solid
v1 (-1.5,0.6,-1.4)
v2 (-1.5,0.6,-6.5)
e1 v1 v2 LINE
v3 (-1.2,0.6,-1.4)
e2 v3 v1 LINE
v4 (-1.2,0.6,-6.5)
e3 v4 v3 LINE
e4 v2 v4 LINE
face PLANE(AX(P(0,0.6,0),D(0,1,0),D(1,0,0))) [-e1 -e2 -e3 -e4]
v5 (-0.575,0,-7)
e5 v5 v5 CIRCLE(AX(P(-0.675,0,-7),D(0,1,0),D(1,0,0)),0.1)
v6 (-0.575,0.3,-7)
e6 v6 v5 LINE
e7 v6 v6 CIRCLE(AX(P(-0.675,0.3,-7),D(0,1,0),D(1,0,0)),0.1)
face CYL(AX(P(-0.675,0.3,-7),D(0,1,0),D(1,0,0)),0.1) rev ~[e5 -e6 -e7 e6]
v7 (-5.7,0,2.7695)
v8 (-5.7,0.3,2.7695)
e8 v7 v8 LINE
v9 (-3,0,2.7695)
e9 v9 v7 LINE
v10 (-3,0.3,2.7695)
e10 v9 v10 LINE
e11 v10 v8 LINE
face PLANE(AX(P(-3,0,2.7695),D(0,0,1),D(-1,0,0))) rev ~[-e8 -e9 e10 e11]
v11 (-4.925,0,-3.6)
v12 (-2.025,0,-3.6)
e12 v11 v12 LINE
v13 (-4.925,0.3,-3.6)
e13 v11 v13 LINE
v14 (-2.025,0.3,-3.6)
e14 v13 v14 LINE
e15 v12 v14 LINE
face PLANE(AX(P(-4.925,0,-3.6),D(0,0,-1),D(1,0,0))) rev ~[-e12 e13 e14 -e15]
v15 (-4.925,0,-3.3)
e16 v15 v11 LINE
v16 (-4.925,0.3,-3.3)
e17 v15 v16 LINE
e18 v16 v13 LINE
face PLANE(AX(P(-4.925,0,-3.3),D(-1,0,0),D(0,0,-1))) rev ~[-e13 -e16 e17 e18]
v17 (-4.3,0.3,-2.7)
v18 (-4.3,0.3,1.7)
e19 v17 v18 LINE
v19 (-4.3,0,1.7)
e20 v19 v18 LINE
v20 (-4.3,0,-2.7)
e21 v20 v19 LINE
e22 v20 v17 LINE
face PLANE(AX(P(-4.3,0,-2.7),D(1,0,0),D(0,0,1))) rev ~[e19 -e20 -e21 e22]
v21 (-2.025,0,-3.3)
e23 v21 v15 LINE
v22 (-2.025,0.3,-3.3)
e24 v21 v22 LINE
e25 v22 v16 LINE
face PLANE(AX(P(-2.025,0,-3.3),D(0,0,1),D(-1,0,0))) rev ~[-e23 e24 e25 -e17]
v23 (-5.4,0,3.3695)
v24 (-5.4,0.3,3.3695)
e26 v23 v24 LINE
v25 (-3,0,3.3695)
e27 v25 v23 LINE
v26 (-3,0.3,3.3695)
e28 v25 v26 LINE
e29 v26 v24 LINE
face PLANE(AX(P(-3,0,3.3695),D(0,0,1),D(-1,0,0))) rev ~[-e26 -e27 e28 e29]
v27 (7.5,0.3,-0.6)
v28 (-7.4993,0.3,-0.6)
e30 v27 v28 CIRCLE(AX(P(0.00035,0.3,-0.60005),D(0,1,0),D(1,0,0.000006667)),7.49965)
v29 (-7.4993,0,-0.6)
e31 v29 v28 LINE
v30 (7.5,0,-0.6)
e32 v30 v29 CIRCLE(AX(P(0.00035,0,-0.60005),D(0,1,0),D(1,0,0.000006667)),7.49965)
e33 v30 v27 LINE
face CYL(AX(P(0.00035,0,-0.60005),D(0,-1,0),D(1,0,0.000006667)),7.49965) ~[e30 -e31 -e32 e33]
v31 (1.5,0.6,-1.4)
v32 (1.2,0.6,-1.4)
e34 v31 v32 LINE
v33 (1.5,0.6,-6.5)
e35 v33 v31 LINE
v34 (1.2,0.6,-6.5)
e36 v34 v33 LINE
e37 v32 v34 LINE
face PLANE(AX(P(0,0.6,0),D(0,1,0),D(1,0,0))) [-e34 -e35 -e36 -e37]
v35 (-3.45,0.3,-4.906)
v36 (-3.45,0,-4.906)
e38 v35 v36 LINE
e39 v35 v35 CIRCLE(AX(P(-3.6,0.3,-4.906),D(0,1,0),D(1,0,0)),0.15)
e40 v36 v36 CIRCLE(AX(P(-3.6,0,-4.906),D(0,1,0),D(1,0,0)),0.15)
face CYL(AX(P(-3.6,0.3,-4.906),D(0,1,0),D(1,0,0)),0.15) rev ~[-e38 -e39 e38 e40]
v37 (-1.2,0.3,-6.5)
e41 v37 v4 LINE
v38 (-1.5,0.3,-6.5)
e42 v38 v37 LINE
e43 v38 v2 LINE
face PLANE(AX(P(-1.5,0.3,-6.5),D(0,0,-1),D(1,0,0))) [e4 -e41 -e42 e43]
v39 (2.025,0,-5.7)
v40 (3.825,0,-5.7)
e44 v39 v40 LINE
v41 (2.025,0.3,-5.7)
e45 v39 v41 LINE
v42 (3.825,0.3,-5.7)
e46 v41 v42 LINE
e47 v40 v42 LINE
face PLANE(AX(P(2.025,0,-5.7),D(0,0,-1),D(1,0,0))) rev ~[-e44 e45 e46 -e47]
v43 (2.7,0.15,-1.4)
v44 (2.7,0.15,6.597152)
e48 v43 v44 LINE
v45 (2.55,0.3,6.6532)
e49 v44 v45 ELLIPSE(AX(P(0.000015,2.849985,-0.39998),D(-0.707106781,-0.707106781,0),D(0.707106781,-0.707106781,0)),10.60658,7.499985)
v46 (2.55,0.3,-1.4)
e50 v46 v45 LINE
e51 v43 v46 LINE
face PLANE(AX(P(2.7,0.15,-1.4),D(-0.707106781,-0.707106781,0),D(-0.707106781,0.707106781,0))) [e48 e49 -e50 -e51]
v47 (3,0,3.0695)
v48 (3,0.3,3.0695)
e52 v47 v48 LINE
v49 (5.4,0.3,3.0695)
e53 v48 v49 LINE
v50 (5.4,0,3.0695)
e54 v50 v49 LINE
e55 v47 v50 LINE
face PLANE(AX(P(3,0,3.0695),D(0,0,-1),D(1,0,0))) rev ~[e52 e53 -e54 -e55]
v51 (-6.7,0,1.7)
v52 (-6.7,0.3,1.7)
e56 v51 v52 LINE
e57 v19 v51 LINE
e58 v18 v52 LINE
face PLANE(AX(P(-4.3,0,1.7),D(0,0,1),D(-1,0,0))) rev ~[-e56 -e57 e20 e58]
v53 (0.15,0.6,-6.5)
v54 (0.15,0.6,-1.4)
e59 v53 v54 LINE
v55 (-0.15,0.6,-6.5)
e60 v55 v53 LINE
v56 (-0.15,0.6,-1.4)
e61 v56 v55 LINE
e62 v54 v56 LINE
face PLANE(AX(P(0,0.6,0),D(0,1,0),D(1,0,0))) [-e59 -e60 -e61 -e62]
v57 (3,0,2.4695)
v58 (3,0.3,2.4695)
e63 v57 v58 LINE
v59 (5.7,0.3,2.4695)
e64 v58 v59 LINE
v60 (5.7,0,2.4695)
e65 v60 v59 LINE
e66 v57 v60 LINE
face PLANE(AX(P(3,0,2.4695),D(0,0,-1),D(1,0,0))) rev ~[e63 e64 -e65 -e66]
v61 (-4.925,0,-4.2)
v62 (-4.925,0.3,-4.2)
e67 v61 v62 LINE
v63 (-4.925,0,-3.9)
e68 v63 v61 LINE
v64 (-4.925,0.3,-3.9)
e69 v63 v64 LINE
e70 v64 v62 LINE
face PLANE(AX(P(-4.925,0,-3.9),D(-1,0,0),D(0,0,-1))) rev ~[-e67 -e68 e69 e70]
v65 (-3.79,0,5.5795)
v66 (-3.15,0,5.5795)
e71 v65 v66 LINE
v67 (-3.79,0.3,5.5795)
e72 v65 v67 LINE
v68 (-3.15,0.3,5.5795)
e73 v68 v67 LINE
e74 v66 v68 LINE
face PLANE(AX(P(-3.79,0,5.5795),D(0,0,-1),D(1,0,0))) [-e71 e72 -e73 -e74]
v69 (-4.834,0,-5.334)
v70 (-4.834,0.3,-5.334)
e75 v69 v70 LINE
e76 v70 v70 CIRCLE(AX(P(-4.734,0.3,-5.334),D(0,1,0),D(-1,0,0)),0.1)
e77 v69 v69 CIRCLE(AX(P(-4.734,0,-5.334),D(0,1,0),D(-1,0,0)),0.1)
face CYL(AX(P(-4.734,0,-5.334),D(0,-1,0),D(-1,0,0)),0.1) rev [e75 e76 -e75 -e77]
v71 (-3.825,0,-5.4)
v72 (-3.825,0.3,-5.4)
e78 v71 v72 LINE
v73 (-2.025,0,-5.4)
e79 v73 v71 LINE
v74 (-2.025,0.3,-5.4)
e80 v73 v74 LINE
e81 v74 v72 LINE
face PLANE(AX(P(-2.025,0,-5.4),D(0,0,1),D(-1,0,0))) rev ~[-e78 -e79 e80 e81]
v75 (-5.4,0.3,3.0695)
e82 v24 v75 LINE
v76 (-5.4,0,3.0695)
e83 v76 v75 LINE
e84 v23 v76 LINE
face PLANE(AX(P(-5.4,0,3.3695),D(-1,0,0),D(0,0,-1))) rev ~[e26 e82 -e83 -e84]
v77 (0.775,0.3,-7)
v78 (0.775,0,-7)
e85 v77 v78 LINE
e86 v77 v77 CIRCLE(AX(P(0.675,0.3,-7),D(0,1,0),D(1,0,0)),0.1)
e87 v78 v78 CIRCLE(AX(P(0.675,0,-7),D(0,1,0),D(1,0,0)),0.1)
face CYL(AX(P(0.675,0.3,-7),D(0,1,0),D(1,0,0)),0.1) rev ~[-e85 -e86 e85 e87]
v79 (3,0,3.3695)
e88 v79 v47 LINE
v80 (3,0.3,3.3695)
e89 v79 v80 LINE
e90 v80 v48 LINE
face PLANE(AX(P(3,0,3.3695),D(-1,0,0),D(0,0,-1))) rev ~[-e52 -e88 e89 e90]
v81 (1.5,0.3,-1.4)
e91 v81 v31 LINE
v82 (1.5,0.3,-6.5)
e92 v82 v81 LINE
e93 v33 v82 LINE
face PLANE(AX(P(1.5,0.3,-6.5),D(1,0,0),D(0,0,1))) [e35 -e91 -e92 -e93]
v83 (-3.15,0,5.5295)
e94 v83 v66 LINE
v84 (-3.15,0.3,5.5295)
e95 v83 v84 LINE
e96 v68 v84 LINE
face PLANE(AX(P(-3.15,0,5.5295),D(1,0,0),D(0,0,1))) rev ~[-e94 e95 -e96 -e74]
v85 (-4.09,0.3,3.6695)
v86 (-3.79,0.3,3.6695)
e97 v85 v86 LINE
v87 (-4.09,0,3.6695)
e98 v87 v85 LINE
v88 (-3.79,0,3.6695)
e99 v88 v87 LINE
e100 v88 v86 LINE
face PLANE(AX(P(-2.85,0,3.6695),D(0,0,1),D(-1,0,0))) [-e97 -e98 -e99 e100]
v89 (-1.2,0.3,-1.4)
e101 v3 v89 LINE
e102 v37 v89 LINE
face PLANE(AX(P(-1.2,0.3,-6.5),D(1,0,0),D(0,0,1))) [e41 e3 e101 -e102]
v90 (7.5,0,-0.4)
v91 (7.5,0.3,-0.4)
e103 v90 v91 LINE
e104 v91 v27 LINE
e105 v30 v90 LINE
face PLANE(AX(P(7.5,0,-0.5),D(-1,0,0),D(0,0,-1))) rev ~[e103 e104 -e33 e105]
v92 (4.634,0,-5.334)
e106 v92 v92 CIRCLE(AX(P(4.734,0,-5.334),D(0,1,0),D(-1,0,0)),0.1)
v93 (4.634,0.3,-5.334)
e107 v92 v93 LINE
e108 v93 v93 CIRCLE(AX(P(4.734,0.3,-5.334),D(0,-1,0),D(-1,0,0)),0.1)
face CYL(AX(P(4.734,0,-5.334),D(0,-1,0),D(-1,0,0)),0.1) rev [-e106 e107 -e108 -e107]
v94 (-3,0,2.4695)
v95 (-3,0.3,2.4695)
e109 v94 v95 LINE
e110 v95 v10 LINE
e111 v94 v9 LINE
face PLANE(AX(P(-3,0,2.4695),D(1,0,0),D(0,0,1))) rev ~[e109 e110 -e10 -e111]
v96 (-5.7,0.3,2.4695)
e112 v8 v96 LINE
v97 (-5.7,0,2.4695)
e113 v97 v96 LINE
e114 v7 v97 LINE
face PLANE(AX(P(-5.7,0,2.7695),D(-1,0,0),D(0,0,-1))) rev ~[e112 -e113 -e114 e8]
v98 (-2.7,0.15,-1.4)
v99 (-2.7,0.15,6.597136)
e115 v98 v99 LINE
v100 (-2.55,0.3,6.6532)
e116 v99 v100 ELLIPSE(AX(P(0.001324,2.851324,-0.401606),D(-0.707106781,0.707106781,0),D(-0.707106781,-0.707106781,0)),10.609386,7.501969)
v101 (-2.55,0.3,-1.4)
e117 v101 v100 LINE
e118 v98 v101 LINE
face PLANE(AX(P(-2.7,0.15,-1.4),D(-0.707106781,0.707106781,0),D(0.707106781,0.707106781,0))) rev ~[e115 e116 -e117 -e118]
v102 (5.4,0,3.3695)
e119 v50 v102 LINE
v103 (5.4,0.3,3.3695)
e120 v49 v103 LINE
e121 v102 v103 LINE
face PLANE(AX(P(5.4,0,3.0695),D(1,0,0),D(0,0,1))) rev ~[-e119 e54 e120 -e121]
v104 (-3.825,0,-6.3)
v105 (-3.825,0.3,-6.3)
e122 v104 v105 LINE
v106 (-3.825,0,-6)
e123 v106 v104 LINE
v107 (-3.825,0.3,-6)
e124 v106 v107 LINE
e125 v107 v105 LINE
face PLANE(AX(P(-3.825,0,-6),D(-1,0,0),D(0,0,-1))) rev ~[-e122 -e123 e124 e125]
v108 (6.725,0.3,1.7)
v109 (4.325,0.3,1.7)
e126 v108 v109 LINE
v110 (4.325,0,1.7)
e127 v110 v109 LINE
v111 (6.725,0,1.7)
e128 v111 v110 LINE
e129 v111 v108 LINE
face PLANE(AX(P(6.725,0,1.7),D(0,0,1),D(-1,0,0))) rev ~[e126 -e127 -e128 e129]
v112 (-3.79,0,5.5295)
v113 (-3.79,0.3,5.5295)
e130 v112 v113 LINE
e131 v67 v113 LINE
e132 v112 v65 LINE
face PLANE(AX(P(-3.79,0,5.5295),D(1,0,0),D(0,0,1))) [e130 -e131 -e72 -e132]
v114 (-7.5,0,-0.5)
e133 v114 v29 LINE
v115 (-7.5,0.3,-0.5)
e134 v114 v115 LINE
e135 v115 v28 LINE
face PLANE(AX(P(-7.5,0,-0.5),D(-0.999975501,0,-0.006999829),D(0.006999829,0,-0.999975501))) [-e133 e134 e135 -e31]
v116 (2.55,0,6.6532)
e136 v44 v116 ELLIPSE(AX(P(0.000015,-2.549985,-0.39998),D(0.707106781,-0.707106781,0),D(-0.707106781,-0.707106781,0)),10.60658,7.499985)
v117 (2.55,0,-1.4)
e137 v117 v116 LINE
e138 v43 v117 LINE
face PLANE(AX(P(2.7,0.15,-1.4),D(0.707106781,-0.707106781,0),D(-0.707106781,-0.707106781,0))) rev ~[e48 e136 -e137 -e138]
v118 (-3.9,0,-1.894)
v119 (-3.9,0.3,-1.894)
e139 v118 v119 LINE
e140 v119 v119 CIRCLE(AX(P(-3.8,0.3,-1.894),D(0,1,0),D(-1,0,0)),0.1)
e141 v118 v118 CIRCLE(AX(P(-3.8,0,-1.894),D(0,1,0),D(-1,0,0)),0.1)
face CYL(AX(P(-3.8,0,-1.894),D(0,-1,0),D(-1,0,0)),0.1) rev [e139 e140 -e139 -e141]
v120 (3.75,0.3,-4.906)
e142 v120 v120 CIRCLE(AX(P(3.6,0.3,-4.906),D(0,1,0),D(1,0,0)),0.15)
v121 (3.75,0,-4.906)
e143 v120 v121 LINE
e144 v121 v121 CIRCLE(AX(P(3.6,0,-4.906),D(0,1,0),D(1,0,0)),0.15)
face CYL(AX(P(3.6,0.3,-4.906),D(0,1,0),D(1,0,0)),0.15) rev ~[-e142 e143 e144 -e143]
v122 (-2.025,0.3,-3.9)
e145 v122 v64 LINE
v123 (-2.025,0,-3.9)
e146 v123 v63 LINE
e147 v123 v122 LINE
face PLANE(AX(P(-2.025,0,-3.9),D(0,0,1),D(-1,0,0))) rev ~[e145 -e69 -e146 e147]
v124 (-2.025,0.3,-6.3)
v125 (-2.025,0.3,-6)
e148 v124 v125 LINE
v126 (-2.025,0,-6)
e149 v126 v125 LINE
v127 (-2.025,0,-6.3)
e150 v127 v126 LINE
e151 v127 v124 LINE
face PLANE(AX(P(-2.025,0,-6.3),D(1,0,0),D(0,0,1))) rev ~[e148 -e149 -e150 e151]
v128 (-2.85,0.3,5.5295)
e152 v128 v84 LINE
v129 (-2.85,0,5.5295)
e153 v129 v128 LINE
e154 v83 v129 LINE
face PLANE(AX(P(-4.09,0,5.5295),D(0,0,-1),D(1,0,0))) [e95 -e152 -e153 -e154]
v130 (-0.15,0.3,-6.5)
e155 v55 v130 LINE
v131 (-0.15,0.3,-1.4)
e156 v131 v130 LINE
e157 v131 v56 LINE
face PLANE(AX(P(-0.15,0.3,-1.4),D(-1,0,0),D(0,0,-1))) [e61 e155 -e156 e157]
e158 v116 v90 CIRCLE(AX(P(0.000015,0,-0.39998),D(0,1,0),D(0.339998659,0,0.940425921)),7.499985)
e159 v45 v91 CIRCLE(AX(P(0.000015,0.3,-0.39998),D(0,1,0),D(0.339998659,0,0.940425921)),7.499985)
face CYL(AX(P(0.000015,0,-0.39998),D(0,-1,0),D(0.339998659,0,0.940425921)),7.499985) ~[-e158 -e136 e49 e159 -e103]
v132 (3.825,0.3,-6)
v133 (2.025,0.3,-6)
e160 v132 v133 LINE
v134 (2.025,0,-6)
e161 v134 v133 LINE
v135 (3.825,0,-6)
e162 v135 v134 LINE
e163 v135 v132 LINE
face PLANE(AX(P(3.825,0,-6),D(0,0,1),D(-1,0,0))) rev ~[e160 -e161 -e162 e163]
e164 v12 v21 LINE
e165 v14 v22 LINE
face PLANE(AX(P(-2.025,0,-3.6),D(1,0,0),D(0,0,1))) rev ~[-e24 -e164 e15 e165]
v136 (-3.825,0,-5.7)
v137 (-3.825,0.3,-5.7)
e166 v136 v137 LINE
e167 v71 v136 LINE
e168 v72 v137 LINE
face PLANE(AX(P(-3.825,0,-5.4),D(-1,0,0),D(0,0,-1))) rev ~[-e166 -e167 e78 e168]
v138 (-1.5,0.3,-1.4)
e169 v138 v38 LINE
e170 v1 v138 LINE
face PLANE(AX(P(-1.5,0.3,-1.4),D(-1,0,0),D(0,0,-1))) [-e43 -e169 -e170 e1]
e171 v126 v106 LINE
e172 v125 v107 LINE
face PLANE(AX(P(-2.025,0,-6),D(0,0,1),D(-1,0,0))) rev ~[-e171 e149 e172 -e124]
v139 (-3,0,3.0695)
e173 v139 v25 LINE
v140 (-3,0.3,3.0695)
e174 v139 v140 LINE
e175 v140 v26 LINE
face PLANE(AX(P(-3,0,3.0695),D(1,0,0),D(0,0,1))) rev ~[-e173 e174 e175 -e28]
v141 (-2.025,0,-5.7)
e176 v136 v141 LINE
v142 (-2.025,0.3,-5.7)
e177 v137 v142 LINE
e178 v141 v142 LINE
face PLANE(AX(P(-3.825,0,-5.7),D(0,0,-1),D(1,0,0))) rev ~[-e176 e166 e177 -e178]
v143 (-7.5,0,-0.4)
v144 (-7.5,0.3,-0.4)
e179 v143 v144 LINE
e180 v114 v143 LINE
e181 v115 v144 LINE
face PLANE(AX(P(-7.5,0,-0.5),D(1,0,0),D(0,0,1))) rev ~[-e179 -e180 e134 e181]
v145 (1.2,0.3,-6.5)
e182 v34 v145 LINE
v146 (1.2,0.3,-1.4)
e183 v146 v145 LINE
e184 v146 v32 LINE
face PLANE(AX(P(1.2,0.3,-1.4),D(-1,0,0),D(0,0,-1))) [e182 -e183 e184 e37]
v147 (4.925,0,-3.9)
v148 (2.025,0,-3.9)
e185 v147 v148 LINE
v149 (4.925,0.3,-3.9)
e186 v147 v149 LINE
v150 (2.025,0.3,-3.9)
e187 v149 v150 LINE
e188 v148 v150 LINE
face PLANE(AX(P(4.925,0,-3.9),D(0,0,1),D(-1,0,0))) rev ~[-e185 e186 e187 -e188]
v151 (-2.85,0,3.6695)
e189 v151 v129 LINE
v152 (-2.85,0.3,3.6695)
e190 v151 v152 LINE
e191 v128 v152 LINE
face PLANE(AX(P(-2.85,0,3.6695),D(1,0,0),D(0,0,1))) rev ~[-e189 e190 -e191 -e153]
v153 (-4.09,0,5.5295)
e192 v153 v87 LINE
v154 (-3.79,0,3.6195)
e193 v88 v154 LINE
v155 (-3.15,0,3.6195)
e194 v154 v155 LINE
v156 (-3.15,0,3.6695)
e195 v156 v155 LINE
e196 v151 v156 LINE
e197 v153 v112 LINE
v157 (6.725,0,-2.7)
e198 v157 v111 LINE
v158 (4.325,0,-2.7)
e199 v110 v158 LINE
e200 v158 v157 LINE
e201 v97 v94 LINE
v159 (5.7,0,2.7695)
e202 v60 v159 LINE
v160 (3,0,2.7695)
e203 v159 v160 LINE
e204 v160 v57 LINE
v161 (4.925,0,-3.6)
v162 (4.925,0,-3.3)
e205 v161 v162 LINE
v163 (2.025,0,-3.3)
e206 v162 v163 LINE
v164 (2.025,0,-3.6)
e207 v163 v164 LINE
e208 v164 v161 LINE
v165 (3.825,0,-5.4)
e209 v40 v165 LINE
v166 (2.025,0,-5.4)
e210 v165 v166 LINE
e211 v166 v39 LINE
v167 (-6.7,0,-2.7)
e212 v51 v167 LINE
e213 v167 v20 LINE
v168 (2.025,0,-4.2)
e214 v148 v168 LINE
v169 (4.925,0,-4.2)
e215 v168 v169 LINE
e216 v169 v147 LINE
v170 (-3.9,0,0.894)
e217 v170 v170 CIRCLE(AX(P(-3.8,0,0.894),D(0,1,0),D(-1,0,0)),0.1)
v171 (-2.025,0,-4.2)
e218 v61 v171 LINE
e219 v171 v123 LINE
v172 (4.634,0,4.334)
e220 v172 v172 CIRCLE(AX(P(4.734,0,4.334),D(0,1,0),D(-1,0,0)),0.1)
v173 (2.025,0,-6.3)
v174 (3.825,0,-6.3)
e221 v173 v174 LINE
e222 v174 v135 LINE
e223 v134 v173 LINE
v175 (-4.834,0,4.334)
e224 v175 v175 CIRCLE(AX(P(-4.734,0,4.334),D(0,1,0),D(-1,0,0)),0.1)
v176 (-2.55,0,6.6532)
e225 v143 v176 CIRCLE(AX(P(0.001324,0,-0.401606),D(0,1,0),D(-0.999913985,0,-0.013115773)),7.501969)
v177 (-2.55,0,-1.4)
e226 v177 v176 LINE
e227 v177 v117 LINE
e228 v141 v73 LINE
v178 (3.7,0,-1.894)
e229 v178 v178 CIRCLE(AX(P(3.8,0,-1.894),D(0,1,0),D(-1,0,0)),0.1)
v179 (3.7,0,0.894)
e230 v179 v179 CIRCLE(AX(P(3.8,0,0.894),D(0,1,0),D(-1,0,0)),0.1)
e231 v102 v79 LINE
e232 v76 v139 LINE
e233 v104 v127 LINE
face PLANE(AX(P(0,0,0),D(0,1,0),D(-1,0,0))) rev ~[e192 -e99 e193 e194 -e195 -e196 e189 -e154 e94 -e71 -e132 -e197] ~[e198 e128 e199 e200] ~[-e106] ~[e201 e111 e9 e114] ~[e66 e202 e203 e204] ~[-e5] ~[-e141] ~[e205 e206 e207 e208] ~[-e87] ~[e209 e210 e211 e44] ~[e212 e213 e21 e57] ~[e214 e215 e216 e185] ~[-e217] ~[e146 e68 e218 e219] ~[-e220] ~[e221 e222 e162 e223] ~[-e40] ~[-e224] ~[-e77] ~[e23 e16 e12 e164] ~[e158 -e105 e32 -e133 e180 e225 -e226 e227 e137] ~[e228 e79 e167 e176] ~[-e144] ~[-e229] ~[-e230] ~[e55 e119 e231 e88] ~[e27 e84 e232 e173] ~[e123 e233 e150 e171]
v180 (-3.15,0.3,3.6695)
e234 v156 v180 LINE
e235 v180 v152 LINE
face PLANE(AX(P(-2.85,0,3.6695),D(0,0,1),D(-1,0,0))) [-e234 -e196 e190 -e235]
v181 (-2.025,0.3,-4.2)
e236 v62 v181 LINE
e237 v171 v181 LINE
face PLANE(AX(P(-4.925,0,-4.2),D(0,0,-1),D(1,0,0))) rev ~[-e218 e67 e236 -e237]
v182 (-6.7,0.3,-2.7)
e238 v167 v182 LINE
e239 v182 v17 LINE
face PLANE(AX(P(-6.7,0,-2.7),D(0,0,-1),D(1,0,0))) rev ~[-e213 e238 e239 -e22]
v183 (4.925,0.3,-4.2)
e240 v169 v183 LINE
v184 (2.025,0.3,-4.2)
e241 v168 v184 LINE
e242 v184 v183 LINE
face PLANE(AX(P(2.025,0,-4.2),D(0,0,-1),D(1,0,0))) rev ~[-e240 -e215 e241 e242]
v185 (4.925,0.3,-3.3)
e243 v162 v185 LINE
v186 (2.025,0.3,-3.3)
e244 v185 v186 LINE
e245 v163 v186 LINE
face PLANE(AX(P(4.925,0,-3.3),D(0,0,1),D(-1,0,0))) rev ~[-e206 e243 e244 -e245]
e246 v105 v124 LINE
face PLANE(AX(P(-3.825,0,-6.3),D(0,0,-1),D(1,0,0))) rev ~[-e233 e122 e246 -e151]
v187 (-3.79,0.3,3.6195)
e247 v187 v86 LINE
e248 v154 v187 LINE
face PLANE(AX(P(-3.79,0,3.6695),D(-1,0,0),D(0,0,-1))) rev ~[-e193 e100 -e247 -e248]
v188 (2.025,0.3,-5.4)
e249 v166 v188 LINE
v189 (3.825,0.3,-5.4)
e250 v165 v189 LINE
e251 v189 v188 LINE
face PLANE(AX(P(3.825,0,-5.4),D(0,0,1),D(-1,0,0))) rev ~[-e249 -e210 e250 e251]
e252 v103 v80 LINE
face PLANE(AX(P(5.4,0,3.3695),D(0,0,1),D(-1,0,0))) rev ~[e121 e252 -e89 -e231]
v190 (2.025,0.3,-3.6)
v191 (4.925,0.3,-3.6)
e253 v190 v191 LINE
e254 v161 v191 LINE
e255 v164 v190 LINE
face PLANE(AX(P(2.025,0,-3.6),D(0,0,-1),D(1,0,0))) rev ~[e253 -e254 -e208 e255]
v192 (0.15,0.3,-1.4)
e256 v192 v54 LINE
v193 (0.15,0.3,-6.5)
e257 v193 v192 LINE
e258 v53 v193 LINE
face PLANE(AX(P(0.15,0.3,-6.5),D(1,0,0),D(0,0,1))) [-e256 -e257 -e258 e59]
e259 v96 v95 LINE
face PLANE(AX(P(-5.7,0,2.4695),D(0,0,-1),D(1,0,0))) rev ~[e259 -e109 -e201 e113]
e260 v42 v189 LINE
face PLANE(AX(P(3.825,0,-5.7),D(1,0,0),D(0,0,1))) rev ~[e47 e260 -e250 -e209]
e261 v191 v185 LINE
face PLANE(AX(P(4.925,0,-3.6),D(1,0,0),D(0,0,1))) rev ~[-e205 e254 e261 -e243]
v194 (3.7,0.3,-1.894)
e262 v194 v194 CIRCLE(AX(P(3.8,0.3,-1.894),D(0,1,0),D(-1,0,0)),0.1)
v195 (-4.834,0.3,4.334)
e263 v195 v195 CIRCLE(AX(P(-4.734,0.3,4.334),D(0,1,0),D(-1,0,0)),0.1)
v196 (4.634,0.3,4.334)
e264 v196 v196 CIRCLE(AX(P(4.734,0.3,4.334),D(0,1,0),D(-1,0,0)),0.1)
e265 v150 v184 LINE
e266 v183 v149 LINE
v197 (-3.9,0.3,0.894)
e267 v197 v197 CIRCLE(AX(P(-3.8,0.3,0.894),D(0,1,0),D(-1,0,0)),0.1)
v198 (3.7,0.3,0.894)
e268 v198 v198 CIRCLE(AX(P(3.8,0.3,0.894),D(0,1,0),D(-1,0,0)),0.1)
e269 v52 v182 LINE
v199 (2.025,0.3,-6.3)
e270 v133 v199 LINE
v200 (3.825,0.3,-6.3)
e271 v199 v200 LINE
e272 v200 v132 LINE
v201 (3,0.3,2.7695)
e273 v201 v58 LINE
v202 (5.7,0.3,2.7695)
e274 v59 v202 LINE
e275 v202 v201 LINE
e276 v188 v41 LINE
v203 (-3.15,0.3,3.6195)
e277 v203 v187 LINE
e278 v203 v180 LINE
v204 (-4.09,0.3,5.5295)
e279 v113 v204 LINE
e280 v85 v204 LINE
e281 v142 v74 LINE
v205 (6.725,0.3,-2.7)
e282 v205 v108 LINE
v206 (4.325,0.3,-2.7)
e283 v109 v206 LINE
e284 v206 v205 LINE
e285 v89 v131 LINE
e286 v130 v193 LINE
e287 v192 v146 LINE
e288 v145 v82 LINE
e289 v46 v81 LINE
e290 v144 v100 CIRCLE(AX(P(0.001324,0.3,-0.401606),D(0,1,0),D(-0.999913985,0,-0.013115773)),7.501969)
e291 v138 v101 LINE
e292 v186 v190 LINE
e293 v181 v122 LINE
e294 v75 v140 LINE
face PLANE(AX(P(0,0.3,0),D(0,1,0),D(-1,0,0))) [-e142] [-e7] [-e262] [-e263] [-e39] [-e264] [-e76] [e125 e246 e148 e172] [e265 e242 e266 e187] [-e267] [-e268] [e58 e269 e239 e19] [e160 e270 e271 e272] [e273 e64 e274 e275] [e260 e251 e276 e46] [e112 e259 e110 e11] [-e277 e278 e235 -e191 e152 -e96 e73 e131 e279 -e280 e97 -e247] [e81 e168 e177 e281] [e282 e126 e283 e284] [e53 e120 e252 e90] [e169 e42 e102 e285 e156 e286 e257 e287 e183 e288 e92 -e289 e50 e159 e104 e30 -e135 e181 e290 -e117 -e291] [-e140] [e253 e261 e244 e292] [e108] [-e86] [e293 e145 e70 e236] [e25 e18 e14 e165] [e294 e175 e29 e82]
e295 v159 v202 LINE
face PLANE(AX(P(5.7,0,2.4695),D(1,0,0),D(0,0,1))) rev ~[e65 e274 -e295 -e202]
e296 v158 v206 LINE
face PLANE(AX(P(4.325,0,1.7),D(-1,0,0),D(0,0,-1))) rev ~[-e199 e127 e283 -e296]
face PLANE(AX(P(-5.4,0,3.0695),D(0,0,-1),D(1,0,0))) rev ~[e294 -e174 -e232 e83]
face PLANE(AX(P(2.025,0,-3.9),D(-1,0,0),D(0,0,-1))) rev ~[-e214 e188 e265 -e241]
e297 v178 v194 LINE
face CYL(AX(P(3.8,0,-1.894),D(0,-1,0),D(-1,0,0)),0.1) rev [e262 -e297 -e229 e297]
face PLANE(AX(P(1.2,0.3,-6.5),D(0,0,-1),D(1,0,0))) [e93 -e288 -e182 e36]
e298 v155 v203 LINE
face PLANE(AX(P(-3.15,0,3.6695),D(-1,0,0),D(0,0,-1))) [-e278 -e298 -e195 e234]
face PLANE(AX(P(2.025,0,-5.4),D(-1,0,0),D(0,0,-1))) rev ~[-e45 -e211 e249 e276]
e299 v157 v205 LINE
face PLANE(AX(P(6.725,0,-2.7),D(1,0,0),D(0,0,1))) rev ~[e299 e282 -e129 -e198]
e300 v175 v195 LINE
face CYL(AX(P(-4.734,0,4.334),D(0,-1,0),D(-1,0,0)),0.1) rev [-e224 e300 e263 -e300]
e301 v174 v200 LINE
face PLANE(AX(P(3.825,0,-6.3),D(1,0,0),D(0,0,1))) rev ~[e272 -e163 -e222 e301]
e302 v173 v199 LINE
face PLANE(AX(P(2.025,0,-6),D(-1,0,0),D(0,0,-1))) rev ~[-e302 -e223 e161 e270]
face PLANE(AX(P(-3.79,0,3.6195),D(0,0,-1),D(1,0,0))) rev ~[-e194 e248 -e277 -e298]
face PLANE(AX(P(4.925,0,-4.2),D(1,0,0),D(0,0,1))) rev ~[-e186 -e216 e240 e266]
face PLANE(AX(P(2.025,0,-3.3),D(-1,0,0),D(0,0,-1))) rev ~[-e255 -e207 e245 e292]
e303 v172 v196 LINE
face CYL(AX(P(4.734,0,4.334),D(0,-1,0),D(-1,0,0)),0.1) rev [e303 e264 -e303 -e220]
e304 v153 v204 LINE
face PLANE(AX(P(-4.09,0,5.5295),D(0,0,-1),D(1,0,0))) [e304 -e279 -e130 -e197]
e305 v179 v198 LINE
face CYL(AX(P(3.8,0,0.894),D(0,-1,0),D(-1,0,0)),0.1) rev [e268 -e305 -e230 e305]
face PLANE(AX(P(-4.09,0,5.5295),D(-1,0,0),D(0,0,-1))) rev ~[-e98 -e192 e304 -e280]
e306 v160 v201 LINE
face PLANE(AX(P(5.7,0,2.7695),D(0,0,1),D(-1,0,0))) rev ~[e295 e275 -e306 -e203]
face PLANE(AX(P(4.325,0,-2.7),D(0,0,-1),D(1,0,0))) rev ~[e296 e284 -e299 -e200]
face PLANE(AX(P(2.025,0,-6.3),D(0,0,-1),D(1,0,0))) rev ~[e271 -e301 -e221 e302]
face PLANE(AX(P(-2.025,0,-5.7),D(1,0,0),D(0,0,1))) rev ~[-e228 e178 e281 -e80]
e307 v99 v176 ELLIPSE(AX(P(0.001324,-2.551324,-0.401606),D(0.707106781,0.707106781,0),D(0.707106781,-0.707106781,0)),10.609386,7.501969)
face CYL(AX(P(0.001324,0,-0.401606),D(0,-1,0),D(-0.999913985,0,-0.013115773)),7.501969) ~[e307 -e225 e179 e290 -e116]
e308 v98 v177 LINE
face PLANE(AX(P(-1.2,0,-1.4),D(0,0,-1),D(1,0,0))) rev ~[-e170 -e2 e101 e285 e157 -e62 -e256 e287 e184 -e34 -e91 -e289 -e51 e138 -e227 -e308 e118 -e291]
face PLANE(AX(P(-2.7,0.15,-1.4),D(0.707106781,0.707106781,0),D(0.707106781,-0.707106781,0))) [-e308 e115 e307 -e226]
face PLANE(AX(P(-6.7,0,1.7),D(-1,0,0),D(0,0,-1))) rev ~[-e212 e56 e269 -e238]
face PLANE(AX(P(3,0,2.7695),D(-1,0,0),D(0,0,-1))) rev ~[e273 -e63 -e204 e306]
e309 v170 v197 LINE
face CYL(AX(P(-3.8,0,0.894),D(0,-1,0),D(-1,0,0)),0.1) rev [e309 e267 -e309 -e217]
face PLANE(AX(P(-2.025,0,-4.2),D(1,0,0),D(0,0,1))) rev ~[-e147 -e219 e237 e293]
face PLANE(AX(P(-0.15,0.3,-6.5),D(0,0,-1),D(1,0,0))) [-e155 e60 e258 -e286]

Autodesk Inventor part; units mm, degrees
ref_plane "YZ Plane" through (0, 0, 0) normal (1, 0, 0) x (0, 1, 0)
ref_plane "XZ Plane" through (0, 0, 0) normal (0, 1, 0) x (-1, 0, 0)
ref_plane "XY Plane" through (0, 0, 0) normal (0, 0, 1) x (1, 0, 0)
sketch "Boceto1" plane through (0, 0, 0) normal (0, 1, 0) x (-1, 0, 0)
  line L0 (4.925, -3.9) -> (4.925, -4.2)
  line L1 (4.925, -4.2) -> (2.025, -4.2)
  line L2 (2.025, -4.2) -> (2.025, -3.9)
  line L3 (2.025, -3.9) -> (4.925, -3.9)
  line L4 (-4.925, -3.3) -> (-2.025, -3.3)
  line L5 (-2.025, -3.3) -> (-2.025, -3.6)
  line L6 (-2.025, -3.6) -> (-4.925, -3.6)
  line L7 (-4.925, -3.6) -> (-4.925, -3.3)
  line L8 (3, 2.4695) -> (3, 2.7695)
  line L9 (3, 2.7695) -> (5.7, 2.7695)
  line L10 (5.7, 2.7695) -> (5.7, 2.4695)
  line L11 (5.7, 2.4695) -> (3, 2.4695)
  line L12 (3, 3.0695) -> (3, 3.3695)
  line L13 (3, 3.3695) -> (5.4, 3.3695)
  line L14 (5.4, 3.3695) -> (5.4, 3.0695)
  line L15 (5.4, 3.0695) -> (3, 3.0695)
  line L16 (2.025, -5.4) -> (3.825, -5.4)
  line L17 (3.825, -5.4) -> (3.825, -5.7)
  line L18 (3.825, -5.7) -> (2.025, -5.7)
  line L19 (2.025, -5.7) -> (2.025, -5.4)
  line L20 (-3.825, -5.7) -> (-3.825, -5.4)
  line L21 (-3.825, -5.4) -> (-2.025, -5.4)
  line L22 (-2.025, -5.4) -> (-2.025, -5.7)
  line L23 (-2.025, -5.7) -> (-3.825, -5.7)
  line L24 (-3.825, -6.3) -> (-3.825, -6)
  line L25 (-3.825, -6) -> (-2.025, -6)
  line L26 (-2.025, -6) -> (-2.025, -6.3)
  line L27 (-2.025, -6.3) -> (-3.825, -6.3)
  line L28 (2.025, -6.3) -> (2.025, -6)
  line L29 (2.025, -6) -> (3.825, -6)
  line L30 (3.825, -6) -> (3.825, -6.3)
  line L31 (3.825, -6.3) -> (2.025, -6.3)
  line L32 (-3, 3.3695) -> (-3, 3.0695)
  line L33 (-3, 3.0695) -> (-5.4, 3.0695)
  line L34 (-5.4, 3.0695) -> (-5.4, 3.3695)
  line L35 (-5.4, 3.3695) -> (-3, 3.3695)
  line L36 (-3, 2.7695) -> (-3, 2.4695)
  line L37 (-3, 2.4695) -> (-5.7, 2.4695)
  line L38 (-5.7, 2.4695) -> (-5.7, 2.7695)
  line L39 (-5.7, 2.7695) -> (-3, 2.7695)
  line L40 (-4.925, -4.2) -> (-4.925, -3.9)
  line L41 (-4.925, -3.9) -> (-2.025, -3.9)
  line L42 (-2.025, -3.9) -> (-2.025, -4.2)
  line L43 (-2.025, -4.2) -> (-4.925, -4.2)
  line L44 (4.925, -3.6) -> (2.025, -3.6)
  line L45 (2.025, -3.6) -> (2.025, -3.3)
  line L46 (2.025, -3.3) -> (4.925, -3.3)
  line L47 (4.925, -3.3) -> (4.925, -3.6)
  line L48 (0.15, -6.5) -> (-0.15, -6.5)
  line L49 (-1.2, -6.5) -> (-1.5, -6.5)
  line L50 (1.5, -6.5) -> (1.2, -6.5)
  line L51 (-6.725, -2.7) -> (-6.725, 1.7)
  line L52 (-6.725, 1.7) -> (-4.325, 1.7)
  line L53 (-4.325, 1.7) -> (-4.325, -2.7)
  line L54 (-4.325, -2.7) -> (-6.725, -2.7)
  line L55 (4.3, -2.7) -> (4.3, 1.7)
  line L56 (4.3, 1.7) -> (6.7, 1.7)
  line L57 (6.7, 1.7) -> (6.7, -2.7)
  line L58 (6.7, -2.7) -> (4.3, -2.7)
  circle A0 centre (-4.734, 4.334) radius 0.1
  circle A1 centre (4.734, 4.334) radius 0.1
  circle A2 centre (-4.734, -5.334) radius 0.1
  circle A3 centre (4.734, -5.334) radius 0.1
  circle A4 centre (-3.8, 0.894) radius 0.1
  circle A5 centre (-3.8, -1.894) radius 0.1
  circle A6 centre (3.8, 0.894) radius 0.1
  circle A7 centre (3.8, -1.894) radius 0.1
  line L59 (2.55, -1.4) -> (-2.55, -1.4)
  line L60 (1.5, -1.4) -> (1.5, -6.5)
  line L61 (1.2, -6.5) -> (1.2, -1.4)
  line L62 (0.15, -1.4) -> (0.15, -6.5)
  line L63 (-0.15, -6.5) -> (-0.15, -1.4)
  line L64 (-1.5, -6.5) -> (-1.5, -1.4)
  line L65 (-1.2, -1.4) -> (-1.2, -6.5)
  line L66 (2.55, -1.4) -> (2.55, 6.6532)
  line L67 (-2.55, -1.4) -> (-2.55, 6.6532)
  line L68 (-7.5, -0.5) -> (-7.5, -0.4)
  line L69 (7.5, -0.5) -> (7.5, -0.4)
  line L70 (-7.5, -0.5) -> (-7.5, -0.6)
  line L71 (7.4993, -0.5) -> (7.4993, -0.6)
  arc A8 (-7.5, -0.6) -> (7.4993, -0.6) centre (-0.0003, -0.6) ccw
  arc A9 (7.4993, -0.5) -> (2.55, 6.6532) centre (0, -0.4) ccw
  arc A10 (-2.55, 6.6532) -> (-7.5, -0.4) centre (0, -0.4) ccw
  line L72 (-4.734, -5.184) -> (-5.4457, -5.184)
  line L73 (-4.734, -5.234) -> (-4.734, -5.334)
  point P0 (2.352, 6.909)
  dimension "d43" = 0.2
  dimension "d13" = 0.1
  dimension "d14" = 0.1
  dimension "d15" = 0.1
  dimension "d39" = 0.2
  dimension "d40" = 0.2
  dimension "d41" = 0.2
  dimension "d42" = 0.2
  dimension "d44" = 0.2
  dimension "d45" = 0.2
  dimension "d46" = 0.2
extrude "Extrusión1" add sketch "Boceto1" along normal blind 0.3 contours L62 L59 L61 L50 L60 L66 A9 L69 L71 A8 L70 L68 A10 L67 L64 L49 L65 L63 L48
sketch "Boceto2" plane through (0, 0.3, 0) normal (0, 1, 0) x (1, 0, 0)
  line L0 (-1.2, 6.5) -> (-1.2, 1.4) projected
  line L1 (-1.5, 1.4) -> (-1.5, 6.5) projected
  line L2 (-0.15, 1.4) -> (-0.15, 6.5) projected
  line L3 (0.15, 6.5) -> (0.15, 1.4) projected
  line L4 (1.2, 1.4) -> (1.2, 6.5) projected
  line L5 (1.5, 6.5) -> (1.5, 1.4) projected
  line L6 (1.2, 6.5) -> (1.5, 6.5) projected
  line L7 (-0.15, 6.5) -> (0.15, 6.5) projected
  line L8 (-1.5, 6.5) -> (-1.2, 6.5) projected
  line L9 (-1.5, 6.5) -> (-1.2, 6.5)
  line L10 (-1.2, 6.5) -> (-1.2, 1.4)
  line L11 (-1.2, 1.4) -> (-1.5, 1.4)
  line L12 (-1.5, 1.4) -> (-1.5, 6.5)
  line L13 (-0.15, 6.5) -> (0.15, 6.5)
  line L14 (0.15, 6.5) -> (0.15, 1.4)
  line L15 (0.15, 1.4) -> (-0.15, 1.4)
  line L16 (-0.15, 1.4) -> (-0.15, 6.5)
  line L17 (1.2, 6.5) -> (1.5, 6.5)
  line L18 (1.5, 6.5) -> (1.5, 1.4)
  line L19 (1.5, 1.4) -> (1.2, 1.4)
  line L20 (1.2, 1.4) -> (1.2, 6.5)
  point P0 (0, 0)
extrude "Extrusión2" add sketch "Boceto2" along normal mid plane 0.6
sketch "Boceto3" plane through (-2.4, 0, -1.4) normal (0, 0, 1) x (1, 0, 0)
  line L0 (0, 0) -> (4.8, 0)
  line L1 (0, 0.3) -> (4.8, 0.3)
  line L2 (0, 0.3) -> (4.8, 0.3)
  line L3 (9.9, 0.3) -> (-5.1, 0.3)
  line L4 (4.8, 0) -> (0, 0)
  line L5 (9.9, 0) -> (-5.1, 0)
  line L6 (-0.3, 0.15) -> (-0.15, 0)
  line L7 (-0.3, 0.15) -> (-0.15, 0.3)
  line L8 (5.1, 0.15) -> (4.95, 0.3)
  line L9 (5.1, 0.15) -> (4.95, 0)
  line L10 (-0.15, 0.3) -> (4.95, 0.3)
  line L11 (4.95, 0) -> (-0.15, 0)
  point P0 (2.4, 0)
  point P1 (0.048, 0)
  point P2 (4.752, 0)
extrude "Extrusión3" cut sketch "Boceto3" along normal blind 10
sketch "Boceto4" plane through (0, 0.3, 0) normal (0, 1, 0) x (1, 0, 0)
  circle A0 centre (-0.675, 7) radius 0.15
  line L0 (4.325, -1.7) -> (4.325, 2.7)
  circle A1 centre (0.675, 7) radius 0.15
  line L1 (-6.7, -1.7) -> (-6.7, 2.7)
  line L2 (-6.7, 2.7) -> (-4.3, 2.7)
  line L3 (-4.3, 2.7) -> (-4.3, -1.7)
  line L4 (-4.3, -1.7) -> (-6.7, -1.7)
  line L5 (4.325, 2.7) -> (6.725, 2.7)
  line L6 (6.725, 2.7) -> (6.725, -1.7)
  line L7 (-3.825, 5.8) -> (-2.025, 5.8)
  line L8 (-2.025, 5.5) -> (-3.825, 5.5)
  line L9 (2.025, 5.8) -> (3.825, 5.8)
  line L10 (3.825, 5.5) -> (2.025, 5.5)
  line L11 (4.325, 2.7) -> (6.725, 2.7) projected
  line L12 (2.025, 6.3) -> (3.825, 6.3) projected
  circle A2 centre (-0.675, 7) radius 0.1
  circle A3 centre (0.675, 7) radius 0.1
  point P0 (0, 0)
  dimension "d47" = 0.3
  dimension "d48" = 0.2
  dimension "d49" = 0.2
extrude "Extrusión4" cut sketch "Boceto4" against normal blind 10 contours A2 | A3
sketch "Boceto8" plane through (0, 0.3, 0) normal (0, 1, 0) x (1, 0, 0)
  circle A0 centre (-3.8, -0.894) radius 0.1 projected
  line L0 (0, 0) -> (0, -2.4412)
  circle A1 centre (3.8, -0.894) radius 0.1
  circle A2 centre (3.6, 4.906) radius 0.15
  circle A3 centre (-3.6, 4.906) radius 0.15
  dimension "d33" = 0.3
  dimension "d34" = 0.3
extrude "Extrusión6" cut sketch "Boceto8" against normal blind 10 contours A2 | A3
sketch "Boceto9" plane through (0, 0, 0) normal (0, -1, 0) x (1, 0, 0)
  line L0 (-2.85, 3.6695) -> (-4.09, 3.6695)
  line L1 (-4.09, 5.5295) -> (-4.09, 3.6695)
  line L2 (-2.85, 3.6695) -> (-2.85, 5.5295)
  line L3 (-4.09, 5.5295) -> (-2.85, 5.5295)
  line L4 (-3, 3.3695) -> (-5.4, 3.3695) projected
  line L5 (-2.55, 6.6532) -> (-2.55, -1.4) projected
  point P0 (0, 0)
extrude "Extrusión7" cut sketch "Boceto9" against normal blind 10
sketch "Boceto11" plane through (0, 0, 0) normal (0, -1, 0) x (1, 0, 0)
  line L0 (-2.85, 5.5295) -> (-4.09, 5.5295) projected
  line L1 (-2.85, 5.5295) -> (-3.15, 5.5295)
  line L2 (-3.15, 5.5295) -> (-3.15, 5.5795)
  line L3 (-4.09, 5.5295) -> (-3.79, 5.5295)
  line L4 (-3.79, 5.5295) -> (-3.79, 5.5795)
  line L5 (-3.79, 5.5795) -> (-3.15, 5.5795)
  line L6 (-4.09, 5.5295) -> (-4.09, 3.6695)
  line L7 (-4.09, 3.6695) -> (-4.09, 5.5295) projected
  line L8 (-2.85, 3.6695) -> (-3.15, 3.6695)
  line L9 (-3.15, 3.6695) -> (-3.15, 3.6195)
  line L10 (-4.09, 3.6695) -> (-3.79, 3.6695)
  line L11 (-3.79, 3.6695) -> (-3.79, 3.6195)
  line L12 (-3.79, 3.6195) -> (-3.15, 3.6195)
  line L13 (-2.85, 5.5295) -> (-2.85, 3.6695)
  point P0 (0, 0)
  dimension "d50" = 0.3
  dimension "d51" = 0.05
  dimension "d52" = 0.3
  dimension "d53" = 0.05
extrude "Extrusión8" cut sketch "Boceto11" against normal blind 10
properties part number "LBase"
